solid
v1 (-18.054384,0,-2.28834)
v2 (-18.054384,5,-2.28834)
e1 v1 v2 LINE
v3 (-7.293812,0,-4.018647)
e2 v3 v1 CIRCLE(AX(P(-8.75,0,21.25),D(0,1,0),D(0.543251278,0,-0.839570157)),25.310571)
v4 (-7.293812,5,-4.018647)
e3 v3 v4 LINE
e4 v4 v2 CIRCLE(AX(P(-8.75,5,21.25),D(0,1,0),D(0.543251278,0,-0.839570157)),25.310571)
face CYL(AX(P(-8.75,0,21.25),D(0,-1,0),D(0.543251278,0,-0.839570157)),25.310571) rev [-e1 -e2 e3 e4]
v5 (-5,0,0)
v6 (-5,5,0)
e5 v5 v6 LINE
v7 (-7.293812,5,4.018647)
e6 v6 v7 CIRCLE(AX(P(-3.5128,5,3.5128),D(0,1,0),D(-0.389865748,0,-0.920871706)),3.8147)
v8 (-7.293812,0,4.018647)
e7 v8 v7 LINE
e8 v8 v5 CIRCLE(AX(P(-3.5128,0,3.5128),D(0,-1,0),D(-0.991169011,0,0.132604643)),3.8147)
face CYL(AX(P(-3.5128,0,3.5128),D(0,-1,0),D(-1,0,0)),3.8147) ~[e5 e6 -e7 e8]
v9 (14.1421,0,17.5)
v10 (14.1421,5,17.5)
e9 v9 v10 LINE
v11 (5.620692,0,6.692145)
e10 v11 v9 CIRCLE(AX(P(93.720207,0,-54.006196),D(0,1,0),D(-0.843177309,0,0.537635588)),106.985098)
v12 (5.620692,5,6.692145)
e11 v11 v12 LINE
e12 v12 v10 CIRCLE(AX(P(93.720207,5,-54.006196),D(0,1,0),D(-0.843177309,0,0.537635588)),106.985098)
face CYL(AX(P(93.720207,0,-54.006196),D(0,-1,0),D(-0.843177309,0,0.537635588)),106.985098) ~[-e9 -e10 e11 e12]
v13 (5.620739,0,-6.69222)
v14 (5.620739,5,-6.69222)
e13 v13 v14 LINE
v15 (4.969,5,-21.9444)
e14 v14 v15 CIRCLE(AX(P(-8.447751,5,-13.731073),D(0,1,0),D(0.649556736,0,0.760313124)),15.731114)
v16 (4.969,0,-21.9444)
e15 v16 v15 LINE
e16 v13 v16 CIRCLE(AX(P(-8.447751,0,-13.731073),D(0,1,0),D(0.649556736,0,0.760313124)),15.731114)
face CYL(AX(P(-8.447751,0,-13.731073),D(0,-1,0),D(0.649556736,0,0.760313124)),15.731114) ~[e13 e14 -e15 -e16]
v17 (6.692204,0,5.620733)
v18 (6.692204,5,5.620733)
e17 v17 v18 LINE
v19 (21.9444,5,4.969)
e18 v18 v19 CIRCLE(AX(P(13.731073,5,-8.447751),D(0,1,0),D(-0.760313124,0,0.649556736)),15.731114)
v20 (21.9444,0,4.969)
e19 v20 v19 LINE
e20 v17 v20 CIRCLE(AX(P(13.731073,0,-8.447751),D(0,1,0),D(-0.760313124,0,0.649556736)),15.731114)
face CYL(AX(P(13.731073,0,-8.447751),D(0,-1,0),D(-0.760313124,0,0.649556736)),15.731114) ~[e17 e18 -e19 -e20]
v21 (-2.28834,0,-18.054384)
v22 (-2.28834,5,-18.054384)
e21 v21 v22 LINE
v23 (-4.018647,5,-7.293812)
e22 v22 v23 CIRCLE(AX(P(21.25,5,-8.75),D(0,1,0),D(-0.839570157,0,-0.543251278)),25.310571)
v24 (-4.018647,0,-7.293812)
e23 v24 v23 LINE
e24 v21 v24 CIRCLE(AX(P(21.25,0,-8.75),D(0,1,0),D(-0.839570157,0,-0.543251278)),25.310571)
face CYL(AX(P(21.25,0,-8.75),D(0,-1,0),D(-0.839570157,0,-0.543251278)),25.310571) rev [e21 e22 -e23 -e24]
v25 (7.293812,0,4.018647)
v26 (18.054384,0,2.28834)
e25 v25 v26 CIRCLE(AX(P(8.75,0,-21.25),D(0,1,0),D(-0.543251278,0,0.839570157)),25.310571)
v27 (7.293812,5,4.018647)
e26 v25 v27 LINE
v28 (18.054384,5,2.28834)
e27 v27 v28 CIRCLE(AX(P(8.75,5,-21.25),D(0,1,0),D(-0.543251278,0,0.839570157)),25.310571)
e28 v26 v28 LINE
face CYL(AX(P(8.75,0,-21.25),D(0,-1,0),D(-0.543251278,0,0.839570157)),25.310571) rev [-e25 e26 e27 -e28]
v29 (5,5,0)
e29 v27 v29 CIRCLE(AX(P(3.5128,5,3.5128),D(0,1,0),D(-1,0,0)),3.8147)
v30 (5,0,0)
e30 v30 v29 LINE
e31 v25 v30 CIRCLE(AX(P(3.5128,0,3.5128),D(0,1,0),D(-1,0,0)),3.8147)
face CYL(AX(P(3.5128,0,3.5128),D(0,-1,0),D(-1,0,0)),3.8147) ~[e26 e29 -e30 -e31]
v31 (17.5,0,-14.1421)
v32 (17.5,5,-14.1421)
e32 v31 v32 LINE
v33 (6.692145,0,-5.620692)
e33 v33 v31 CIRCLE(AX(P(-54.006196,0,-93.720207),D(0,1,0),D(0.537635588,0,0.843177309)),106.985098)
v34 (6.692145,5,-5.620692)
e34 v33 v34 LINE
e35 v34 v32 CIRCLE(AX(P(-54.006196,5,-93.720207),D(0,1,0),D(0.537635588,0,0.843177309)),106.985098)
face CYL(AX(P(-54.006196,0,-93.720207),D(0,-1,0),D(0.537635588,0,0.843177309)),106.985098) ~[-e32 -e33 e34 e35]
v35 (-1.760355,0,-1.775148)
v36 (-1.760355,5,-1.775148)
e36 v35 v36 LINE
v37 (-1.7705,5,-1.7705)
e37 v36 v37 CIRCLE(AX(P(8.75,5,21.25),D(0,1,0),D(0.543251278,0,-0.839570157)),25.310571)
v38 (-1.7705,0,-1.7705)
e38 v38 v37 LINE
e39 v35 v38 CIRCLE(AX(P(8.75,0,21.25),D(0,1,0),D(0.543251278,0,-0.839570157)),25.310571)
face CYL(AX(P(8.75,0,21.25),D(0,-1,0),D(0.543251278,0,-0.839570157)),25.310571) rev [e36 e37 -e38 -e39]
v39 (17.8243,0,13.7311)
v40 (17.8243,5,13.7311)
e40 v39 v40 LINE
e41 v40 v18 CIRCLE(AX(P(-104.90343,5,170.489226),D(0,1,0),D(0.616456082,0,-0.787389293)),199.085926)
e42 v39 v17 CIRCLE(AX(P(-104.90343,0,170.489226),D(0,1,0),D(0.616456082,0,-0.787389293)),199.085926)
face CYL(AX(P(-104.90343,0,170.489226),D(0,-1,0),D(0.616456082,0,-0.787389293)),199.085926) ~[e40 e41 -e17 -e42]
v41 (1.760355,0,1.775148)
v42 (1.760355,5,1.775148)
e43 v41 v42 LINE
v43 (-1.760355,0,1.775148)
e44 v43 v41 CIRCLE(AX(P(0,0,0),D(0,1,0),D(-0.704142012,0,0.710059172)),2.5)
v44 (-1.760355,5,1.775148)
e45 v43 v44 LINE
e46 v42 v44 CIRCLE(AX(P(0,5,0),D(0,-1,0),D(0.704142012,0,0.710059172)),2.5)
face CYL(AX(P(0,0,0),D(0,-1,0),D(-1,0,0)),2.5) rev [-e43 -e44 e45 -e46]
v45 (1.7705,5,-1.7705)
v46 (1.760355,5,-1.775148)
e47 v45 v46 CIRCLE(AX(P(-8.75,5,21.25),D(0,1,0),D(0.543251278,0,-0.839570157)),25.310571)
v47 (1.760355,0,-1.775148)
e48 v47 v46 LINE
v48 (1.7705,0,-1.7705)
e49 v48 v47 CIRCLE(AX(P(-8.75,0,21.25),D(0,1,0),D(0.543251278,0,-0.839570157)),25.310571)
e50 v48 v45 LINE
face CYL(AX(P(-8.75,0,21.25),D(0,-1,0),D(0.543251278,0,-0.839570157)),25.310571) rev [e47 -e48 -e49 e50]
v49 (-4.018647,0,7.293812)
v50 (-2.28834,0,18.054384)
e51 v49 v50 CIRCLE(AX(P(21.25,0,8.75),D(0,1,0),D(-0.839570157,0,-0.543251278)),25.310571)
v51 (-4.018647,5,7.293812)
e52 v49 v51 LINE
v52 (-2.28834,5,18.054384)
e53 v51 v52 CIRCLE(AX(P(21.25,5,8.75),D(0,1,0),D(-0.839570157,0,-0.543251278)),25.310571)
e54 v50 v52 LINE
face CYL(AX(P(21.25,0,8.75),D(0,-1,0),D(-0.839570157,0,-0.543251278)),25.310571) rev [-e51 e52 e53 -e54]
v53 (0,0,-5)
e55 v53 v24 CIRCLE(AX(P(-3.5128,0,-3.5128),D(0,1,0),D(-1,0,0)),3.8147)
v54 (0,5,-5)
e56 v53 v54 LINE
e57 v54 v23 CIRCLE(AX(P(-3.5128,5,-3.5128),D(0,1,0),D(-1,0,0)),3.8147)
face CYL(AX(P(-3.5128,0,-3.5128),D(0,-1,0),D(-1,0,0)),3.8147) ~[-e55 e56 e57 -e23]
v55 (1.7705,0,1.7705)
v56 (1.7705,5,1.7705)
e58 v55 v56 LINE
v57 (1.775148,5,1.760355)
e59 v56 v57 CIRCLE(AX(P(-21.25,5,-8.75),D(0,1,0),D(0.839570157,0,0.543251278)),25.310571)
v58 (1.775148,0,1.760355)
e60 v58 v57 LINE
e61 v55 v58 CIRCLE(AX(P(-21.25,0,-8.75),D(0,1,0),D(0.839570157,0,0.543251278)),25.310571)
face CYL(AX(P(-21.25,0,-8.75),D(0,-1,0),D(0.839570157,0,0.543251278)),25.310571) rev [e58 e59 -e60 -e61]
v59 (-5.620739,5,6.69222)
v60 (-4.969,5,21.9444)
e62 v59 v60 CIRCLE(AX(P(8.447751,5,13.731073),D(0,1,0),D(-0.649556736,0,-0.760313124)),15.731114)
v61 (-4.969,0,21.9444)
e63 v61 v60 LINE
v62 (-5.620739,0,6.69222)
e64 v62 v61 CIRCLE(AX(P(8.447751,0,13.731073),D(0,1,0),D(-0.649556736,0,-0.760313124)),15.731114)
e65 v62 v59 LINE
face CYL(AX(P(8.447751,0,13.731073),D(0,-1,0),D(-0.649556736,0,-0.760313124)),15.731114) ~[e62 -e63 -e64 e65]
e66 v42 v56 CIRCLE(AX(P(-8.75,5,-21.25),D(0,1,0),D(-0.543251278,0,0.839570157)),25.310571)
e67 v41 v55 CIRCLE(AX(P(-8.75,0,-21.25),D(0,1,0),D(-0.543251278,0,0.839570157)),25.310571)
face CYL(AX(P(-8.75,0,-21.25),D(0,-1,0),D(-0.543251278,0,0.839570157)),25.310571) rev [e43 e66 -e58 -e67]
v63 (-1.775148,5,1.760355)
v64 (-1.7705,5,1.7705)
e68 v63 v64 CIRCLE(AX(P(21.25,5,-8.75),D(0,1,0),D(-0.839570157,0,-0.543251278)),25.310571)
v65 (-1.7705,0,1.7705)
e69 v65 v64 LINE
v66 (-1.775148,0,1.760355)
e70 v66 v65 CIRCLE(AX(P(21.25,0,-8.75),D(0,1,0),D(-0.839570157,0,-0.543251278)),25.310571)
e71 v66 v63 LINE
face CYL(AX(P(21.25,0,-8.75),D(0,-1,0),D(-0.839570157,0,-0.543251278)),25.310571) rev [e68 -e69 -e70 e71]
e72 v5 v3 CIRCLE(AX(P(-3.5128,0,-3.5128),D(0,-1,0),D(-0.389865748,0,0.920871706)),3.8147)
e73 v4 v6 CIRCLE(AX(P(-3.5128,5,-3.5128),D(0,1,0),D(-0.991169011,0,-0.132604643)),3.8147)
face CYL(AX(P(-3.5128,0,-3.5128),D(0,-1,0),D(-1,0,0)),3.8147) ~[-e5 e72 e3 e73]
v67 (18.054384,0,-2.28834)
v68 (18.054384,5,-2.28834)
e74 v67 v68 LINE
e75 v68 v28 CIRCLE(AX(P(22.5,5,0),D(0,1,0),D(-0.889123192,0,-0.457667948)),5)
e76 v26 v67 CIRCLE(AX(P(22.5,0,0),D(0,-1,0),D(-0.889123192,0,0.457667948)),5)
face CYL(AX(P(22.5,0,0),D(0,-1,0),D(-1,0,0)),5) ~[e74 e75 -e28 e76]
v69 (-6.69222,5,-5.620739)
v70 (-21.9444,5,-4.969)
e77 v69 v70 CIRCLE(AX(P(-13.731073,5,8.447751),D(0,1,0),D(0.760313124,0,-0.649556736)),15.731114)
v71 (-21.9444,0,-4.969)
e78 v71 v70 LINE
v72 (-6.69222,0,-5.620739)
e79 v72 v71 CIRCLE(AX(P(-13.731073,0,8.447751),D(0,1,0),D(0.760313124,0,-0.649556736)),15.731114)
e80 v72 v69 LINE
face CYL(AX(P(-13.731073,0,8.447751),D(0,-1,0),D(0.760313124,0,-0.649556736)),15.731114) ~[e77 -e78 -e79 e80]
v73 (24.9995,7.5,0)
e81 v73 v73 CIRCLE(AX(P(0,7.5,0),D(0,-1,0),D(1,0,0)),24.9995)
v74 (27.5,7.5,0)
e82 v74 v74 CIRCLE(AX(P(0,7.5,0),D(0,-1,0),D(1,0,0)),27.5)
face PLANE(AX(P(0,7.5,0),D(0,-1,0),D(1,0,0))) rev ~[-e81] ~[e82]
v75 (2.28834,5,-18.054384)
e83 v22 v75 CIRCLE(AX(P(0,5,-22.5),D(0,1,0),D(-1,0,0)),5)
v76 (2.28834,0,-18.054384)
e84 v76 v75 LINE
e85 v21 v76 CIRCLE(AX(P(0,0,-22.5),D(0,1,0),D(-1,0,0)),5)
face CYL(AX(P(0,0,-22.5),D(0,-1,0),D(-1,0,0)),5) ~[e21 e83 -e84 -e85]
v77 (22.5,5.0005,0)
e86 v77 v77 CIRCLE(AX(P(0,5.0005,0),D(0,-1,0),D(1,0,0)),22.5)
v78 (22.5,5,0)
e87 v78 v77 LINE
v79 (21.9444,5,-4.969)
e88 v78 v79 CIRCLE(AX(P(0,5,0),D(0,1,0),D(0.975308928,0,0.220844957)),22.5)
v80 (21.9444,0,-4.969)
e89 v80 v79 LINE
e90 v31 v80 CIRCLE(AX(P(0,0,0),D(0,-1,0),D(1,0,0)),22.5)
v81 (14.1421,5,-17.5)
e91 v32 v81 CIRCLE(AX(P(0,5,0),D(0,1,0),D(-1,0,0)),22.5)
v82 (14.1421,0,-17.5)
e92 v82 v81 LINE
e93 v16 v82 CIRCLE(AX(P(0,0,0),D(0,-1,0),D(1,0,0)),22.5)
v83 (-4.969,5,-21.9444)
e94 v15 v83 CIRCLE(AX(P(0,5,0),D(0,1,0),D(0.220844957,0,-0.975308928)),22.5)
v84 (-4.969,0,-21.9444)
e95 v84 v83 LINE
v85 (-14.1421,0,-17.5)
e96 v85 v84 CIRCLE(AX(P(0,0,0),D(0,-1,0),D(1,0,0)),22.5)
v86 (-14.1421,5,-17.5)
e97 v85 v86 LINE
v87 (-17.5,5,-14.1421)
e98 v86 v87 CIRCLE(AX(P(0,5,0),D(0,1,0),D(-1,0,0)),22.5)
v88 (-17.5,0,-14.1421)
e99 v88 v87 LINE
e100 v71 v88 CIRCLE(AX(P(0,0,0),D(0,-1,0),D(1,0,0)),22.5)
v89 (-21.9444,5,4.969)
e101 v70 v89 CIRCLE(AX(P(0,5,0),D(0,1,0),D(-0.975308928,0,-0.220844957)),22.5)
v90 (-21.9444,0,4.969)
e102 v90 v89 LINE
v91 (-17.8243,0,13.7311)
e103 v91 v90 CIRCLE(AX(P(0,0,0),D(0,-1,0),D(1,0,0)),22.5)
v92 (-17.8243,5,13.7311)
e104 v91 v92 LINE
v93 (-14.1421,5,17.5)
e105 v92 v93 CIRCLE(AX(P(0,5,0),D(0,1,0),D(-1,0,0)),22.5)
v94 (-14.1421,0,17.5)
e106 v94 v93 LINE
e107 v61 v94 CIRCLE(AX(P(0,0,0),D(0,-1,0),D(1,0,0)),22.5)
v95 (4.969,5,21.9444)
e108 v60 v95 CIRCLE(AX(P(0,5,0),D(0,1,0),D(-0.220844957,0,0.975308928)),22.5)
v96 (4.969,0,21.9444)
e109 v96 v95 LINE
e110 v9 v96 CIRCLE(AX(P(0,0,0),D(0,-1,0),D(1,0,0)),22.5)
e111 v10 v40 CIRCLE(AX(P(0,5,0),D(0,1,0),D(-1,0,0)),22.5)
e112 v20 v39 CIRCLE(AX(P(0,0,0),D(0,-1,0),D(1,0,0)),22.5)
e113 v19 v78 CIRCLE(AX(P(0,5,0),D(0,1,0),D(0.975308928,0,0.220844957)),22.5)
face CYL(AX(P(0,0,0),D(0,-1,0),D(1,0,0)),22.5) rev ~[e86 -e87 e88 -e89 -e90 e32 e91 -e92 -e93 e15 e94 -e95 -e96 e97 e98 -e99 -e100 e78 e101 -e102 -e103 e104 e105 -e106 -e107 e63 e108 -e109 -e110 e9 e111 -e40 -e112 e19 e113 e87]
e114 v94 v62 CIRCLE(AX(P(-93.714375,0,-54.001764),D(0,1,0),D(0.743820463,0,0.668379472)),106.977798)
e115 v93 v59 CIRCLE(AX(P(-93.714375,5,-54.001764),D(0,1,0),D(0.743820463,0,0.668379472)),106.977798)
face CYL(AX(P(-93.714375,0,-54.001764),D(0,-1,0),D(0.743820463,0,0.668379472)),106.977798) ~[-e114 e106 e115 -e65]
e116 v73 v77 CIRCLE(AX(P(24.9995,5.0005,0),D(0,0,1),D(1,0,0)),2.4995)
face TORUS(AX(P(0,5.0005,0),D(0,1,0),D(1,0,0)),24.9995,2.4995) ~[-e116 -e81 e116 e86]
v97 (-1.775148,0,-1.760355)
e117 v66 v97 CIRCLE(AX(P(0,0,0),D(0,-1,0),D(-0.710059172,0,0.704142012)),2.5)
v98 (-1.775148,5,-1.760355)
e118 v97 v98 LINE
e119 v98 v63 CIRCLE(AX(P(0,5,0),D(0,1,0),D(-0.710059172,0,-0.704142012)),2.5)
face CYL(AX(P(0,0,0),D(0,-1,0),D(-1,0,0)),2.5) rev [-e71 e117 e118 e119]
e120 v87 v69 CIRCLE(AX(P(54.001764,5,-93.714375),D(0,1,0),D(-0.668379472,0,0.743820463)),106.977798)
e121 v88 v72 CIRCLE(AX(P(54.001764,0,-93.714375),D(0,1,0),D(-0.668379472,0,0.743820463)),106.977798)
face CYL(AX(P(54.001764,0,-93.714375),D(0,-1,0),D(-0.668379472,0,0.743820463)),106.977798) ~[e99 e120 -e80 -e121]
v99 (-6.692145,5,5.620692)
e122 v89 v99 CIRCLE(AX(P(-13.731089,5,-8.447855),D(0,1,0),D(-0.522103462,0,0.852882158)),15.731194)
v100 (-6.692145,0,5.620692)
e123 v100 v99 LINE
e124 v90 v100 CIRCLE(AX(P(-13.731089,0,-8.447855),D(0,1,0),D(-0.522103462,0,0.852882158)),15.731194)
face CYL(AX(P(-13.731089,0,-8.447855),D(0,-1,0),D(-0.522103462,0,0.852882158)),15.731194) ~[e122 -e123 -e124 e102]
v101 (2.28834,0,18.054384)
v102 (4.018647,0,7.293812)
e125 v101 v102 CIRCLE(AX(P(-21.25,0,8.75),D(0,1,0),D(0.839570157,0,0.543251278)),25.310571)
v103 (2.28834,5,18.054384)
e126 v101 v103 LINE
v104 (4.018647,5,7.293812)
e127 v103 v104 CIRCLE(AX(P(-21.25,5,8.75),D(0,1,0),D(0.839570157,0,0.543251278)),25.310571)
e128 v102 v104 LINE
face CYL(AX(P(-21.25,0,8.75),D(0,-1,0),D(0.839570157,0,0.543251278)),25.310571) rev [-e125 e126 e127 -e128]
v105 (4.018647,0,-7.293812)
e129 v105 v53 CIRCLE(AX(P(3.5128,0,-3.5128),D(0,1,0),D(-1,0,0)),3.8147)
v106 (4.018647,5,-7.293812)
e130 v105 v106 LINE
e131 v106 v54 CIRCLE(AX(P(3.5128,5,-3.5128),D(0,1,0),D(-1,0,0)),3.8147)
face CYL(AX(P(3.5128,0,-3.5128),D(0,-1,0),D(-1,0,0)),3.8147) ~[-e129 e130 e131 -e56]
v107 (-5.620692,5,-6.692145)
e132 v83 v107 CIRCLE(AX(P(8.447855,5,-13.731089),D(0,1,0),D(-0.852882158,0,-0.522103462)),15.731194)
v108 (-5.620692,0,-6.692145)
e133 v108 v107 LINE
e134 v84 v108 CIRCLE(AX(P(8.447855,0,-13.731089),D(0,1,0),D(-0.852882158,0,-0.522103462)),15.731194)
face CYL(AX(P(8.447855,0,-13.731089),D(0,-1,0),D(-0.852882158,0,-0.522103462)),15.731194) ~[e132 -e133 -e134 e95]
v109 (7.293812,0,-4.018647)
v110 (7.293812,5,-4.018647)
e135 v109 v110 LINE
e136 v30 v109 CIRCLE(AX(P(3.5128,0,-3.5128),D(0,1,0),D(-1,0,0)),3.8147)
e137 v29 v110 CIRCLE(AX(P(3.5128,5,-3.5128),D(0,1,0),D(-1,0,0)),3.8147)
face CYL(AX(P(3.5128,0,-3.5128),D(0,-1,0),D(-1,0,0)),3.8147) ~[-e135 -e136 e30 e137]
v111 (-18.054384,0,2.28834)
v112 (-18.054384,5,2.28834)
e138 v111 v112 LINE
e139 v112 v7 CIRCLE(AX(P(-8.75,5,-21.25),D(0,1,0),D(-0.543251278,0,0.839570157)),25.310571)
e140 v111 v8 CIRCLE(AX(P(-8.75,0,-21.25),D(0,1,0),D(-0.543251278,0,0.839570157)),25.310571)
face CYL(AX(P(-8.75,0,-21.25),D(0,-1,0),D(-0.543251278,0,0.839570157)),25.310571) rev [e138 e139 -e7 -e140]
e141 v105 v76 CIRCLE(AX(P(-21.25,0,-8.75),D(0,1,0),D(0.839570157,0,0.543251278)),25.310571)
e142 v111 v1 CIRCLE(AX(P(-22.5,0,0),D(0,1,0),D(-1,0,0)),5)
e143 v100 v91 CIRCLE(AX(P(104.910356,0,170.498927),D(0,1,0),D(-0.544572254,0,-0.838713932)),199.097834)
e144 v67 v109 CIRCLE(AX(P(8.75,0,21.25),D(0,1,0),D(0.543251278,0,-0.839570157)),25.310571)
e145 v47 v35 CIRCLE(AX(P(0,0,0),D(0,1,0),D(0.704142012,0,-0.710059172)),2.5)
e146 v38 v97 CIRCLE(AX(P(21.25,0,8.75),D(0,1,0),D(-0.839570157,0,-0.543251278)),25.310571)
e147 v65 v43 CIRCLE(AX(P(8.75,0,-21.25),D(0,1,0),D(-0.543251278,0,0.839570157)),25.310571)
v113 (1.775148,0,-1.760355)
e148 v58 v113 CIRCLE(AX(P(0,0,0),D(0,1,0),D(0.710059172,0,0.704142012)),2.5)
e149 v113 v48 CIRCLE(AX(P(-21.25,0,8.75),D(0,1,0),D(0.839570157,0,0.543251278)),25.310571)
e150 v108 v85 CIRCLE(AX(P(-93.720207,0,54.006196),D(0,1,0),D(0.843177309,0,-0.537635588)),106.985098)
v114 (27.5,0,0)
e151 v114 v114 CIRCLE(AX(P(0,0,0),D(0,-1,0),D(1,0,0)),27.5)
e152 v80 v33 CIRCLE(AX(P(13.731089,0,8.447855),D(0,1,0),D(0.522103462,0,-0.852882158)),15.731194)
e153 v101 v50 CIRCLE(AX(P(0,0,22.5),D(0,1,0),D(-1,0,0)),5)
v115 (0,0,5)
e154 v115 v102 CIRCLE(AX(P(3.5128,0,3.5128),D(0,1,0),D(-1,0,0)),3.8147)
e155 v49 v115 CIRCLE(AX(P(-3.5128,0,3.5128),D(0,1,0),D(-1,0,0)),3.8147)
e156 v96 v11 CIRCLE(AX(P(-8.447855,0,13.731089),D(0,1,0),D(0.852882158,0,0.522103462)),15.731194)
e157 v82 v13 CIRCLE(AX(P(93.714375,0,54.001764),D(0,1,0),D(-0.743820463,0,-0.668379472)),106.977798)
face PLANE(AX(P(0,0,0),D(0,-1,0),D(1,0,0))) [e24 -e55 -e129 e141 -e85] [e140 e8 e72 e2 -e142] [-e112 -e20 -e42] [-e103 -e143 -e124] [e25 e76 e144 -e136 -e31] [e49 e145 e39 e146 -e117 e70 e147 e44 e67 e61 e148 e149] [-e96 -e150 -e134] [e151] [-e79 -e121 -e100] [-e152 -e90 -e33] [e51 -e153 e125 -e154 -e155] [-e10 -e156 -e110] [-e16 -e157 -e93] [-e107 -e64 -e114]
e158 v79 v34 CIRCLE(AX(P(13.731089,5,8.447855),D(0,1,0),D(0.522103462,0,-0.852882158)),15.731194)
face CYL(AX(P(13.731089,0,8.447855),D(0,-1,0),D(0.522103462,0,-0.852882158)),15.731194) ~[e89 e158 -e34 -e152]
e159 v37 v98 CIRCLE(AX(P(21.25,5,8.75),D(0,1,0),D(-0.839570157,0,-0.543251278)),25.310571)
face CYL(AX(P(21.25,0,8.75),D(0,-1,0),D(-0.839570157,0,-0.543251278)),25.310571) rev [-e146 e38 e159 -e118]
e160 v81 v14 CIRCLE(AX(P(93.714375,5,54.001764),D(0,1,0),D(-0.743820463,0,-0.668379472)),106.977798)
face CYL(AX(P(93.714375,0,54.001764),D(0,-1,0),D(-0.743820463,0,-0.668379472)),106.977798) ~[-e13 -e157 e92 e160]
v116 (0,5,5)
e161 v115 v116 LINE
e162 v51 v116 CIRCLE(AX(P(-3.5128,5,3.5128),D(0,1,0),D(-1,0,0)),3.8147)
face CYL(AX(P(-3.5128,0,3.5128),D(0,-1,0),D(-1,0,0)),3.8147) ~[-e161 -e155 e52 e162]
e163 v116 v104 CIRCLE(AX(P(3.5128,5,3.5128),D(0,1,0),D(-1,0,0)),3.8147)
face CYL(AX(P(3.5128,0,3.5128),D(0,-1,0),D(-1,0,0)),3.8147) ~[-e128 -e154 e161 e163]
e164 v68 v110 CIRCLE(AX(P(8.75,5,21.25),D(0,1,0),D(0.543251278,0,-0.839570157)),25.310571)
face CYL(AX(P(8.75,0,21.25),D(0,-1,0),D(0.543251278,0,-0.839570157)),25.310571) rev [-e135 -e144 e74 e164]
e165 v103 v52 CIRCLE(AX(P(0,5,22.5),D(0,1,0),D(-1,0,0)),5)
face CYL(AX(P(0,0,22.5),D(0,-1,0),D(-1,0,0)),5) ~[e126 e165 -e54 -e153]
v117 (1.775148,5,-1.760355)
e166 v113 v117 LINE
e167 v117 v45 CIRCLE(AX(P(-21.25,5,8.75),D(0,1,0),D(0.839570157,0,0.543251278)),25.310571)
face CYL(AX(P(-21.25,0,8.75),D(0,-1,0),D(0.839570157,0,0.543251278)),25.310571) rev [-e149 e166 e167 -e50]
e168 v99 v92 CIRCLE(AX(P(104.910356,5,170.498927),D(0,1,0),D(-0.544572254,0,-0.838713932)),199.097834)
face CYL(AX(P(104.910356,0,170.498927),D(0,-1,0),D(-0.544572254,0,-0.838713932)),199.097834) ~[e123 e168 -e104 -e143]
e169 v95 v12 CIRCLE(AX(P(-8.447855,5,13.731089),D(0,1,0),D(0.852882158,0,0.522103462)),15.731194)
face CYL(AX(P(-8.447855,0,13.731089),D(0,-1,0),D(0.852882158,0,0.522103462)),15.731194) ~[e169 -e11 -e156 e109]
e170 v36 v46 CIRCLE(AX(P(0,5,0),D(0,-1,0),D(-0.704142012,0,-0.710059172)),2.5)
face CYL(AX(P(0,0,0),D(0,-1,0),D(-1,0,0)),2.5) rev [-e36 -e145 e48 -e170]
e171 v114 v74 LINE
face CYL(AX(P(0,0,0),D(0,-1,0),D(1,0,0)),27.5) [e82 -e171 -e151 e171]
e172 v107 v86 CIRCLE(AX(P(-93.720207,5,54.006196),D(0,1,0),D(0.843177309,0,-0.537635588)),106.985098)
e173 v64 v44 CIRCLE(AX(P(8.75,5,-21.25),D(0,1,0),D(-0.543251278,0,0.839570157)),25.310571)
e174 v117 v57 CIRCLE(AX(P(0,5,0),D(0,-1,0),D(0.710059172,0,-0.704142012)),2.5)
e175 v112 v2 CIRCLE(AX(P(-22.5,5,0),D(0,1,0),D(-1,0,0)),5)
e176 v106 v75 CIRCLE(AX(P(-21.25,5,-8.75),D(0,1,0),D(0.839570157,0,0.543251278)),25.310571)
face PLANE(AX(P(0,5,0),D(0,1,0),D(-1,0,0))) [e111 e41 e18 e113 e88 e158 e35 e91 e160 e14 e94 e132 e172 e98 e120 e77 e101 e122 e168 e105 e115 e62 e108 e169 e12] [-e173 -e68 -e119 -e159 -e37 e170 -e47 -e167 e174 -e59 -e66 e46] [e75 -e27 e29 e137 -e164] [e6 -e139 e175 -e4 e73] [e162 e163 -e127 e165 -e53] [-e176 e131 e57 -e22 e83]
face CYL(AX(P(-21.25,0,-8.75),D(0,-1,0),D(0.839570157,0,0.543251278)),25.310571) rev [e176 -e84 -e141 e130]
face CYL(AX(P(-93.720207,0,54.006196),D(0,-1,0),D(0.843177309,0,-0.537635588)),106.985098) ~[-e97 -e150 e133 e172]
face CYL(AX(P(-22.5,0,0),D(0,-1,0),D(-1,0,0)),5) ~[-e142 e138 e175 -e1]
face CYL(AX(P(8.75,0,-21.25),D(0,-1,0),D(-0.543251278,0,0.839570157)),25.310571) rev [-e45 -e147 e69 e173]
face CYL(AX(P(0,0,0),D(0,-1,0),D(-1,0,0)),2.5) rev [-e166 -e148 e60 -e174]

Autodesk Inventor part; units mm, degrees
ref_plane "YZ Plane" through (0, 0, 0) normal (1, 0, 0) x (0, 1, 0)
ref_plane "XZ Plane" through (0, 0, 0) normal (0, 1, 0) x (-1, 0, 0)
ref_plane "XY Plane" through (0, 0, 0) normal (0, 0, 1) x (1, 0, 0)
sketch "Sketch1" plane through (0, 0, 0) normal (0, 1, 0) x (-1, 0, 0)
  circle A0 centre (0, 0) radius 2.5
  circle A1 centre (0, 0) radius 5
  circle A2 centre (0, 0) radius 22.5
  circle A3 centre (0, 0) radius 27.5
  arc A4 (0, 5) -> (0, -22.5) centre (21.25, -8.75) ccw
  arc A5 (0, -22.5) -> (0, 5) centre (-21.25, -8.75) ccw
  arc A6 (-5, 0) -> (22.5, 0) centre (8.75, 21.25) ccw
  arc A7 (22.5, 0) -> (-5, 0) centre (8.75, -21.25) ccw
  arc A8 (0, -5) -> (0, 22.5) centre (-21.25, 8.75) ccw
  arc A9 (0, 22.5) -> (0, -5) centre (21.25, 8.75) ccw
  arc A10 (5, 0) -> (-22.5, 0) centre (-8.75, -21.25) ccw
  arc A11 (-22.5, 0) -> (5, 0) centre (-8.75, 21.25) ccw
  circle A12 centre (-22.5, 0) radius 5
  circle A13 centre (0, -22.5) radius 5
  circle A14 centre (22.5, 0) radius 5
  circle A15 centre (0, 22.5) radius 5
  arc A16 (-4.969, 21.9444) -> (-1.7705, 1.7705) centre (8.4478, 13.7311) ccw
  arc A17 (1.7705, 1.7705) -> (4.969, 21.9444) centre (-8.4478, 13.7311) ccw
  arc A18 (4.969, -21.9444) -> (1.7705, -1.7705) centre (-8.4478, -13.7311) ccw
  arc A19 (-1.7705, -1.7705) -> (-4.969, -21.9444) centre (8.4478, -13.7311) ccw
  arc A20 (21.9444, 4.969) -> (1.7705, 1.7705) centre (13.7311, -8.4478) ccw
  arc A21 (1.7705, -1.7705) -> (21.9444, -4.969) centre (13.7311, 8.4478) ccw
  arc A22 (-1.7705, 1.7705) -> (-21.9444, 4.969) centre (-13.7311, -8.4478) ccw
  arc A23 (-21.9444, -4.969) -> (-1.7705, -1.7705) centre (-13.7311, 8.4478) ccw
  circle A24 centre (-3.5128, 3.5128) radius 3.8147
  circle A25 centre (-3.5128, -3.5128) radius 3.8147
  circle A26 centre (3.5128, -3.5128) radius 3.8147
  circle A27 centre (3.5128, 3.5128) radius 3.8147
  arc A28 (-3.5128, -3.5128) -> (-17.5, -14.1421) centre (54.0041, -93.7172) ccw
  arc A29 (-14.1421, -17.5) -> (-3.5128, -3.5128) centre (-93.7172, 54.0041) ccw
  arc A30 (17.5, -14.1421) -> (3.5128, -3.5128) centre (-54.0041, -93.7172) ccw
  arc A31 (3.5128, -3.5128) -> (14.1421, -17.5) centre (93.7172, 54.0041) ccw
  arc A32 (3.5128, 3.5128) -> (17.8243, 13.7311) centre (-104.907, 170.494) ccw
  arc A33 (14.1421, 17.5) -> (3.5128, 3.5128) centre (93.7172, -54.0041) ccw
  arc A34 (-3.5128, 3.5128) -> (-14.1421, 17.5) centre (-93.7172, -54.0041) ccw
  arc A35 (-17.8243, 13.7311) -> (-3.5128, 3.5128) centre (104.907, 170.494) ccw
  point P0 (3.5128, -3.5128)
  point P1 (3.5503, -3.5207)
  point P2 (3.5207, -3.5503)
  point P3 (7.2938, 4.0186)
  point P4 (18.0544, 2.2883)
  point P5 (18.0544, -2.2883)
  point P6 (7.2938, -4.0186)
  point P7 (-3.5128, -3.5128)
  point P8 (-3.5207, -3.5503)
  point P9 (-3.5503, -3.5207)
  point P10 (-18.0544, 2.2883)
  point P11 (-7.2938, 4.0186)
  point P12 (-7.2938, -4.0186)
  point P13 (-18.0544, -2.2883)
  point P14 (-1.7751, -1.7604)
  point P15 (-1.7751, 1.7604)
  point P16 (-1.7604, 1.7751)
  point P17 (1.7604, 1.7751)
  point P18 (1.7751, 1.7604)
  point P19 (1.7751, -1.7604)
  point P20 (1.7604, -1.7751)
  point P21 (-1.7604, -1.7751)
  point P22 (2.2883, 18.0544)
  point P23 (4.0186, 7.2938)
  point P24 (0, 5)
  point P25 (-4.0186, 7.2938)
  point P26 (-2.2883, 18.0544)
  point P27 (4.0186, -7.2938)
  point P28 (2.2883, -18.0544)
  point P29 (-2.2883, -18.0544)
  point P30 (-4.0186, -7.2938)
  point P31 (-6.6922, -5.6207)
  point P32 (-5.6207, -6.6922)
  point P33 (5.6207, -6.6922)
  point P34 (6.6922, -5.6207)
  point P35 (6.6922, 5.6207)
  point P36 (5.6207, 6.6922)
  point P37 (-5.6207, 6.6922)
  point P38 (-6.6922, 5.6207)
  dimension "d2" = 45
  dimension "d0" = 5
  dimension "d1" = 10
  dimension "d3" = 55
extrude "Extrusion1" add sketch "Sketch1" along normal blind 5 contours A5 A27 A0 | A8 A26 A27 A5 | A0 A26 A8 | A0 A5 A10 A8 A26 | A27 A5 A11 A8 A0 | A27 A11 A5 | A8 A10 A26 | A11 A1 A6 A5 | A5 A18 A11 | A10 A8 A7 A1 | A26 A6 A1 | A1 A7 A27 | A10 A17 A8 | A0 A24 A7 A5 A10 | A20 A17 | A5 A7 A20 | A11 A8 A6 A25 A0 | A21 A6 A8 | A18 A21 | A31 A1 A5 | A5 A1 A8 A6 | A21 A1 A18 | A30 A1 A21 | A6 A1 A30 | A18 A1 A31 | A7 A32 A1 | A1 A32 A27 A7 | A6 A26 A30 A1 | A7 A5 A1 A8 | A33 A1 A17 | A17 A1 A20 | A20 A1 A32 | A8 A1 A33 | A0 A7 A24 | A7 A24 A5 | A25 A6 A0 | A8 A25 A6 | A5 A26 A1 | A1 A31 A26 A5 | A18 A31 A1 | A1 A21 A26 A18 | A1 A30 A21 | A1 A20 A32 | A27 A20 A14 A7 | A6 A14 A21 A26 | A8 A27 A33 A1 | A1 A27 A8 | A17 A27 A20 A1 | A1 A33 A17 | A10 A27 A24 A7 | A0 A27 A10 | A4 A10 A9 A1 | A27 A10 A4 | A1 A9 A24 | A11 A26 A0 | A6 A25 A26 A11 | A25 A4 A1 | A1 A4 A11 A9 | A9 A11 A26 | A26 A18 A13 A5 | A26 A30 A2 A31 | A27 A33 A2 A32 | A14 A2 A7 | A7 A6 A14 | A6 A2 A14 | A0 A26 A11 A9 A6 | A7 A4 A10 A27 A0 | A8 A15 A17 A27 | A9 A34 A1 | A1 A34 A24 A9 | A4 A22 A10 | A24 A16 A15 A9 | A4 A25 A29 A1 | A1 A29 A4 | A11 A23 A9 | A4 A13 A19 A25 | A13 A2 A5 | A5 A4 A13 | A9 A25 A0 | A0 A24 A4 | A4 A24 A25 A9 | A9 A6 A4 A24 A0 | A0 A25 A9 A7 A4 | A19 A4 A6 | A23 A19 | A7 A9 A16 | A16 A22 | A15 A9 A8 | A8 A2 A15 | A34 A16 A1 | A1 A16 A34 | A9 A7 A1 A10 | A22 A1 A16 | A35 A1 A22 | A10 A1 A35 | A15 A2 A9 | A16 A1 A22 A24 | A24 A35 A2 A34 | A29 A19 A1 | A1 A19 A29 | A11 A1 A6 A4 | A28 A1 A11 | A19 A1 A23 | A23 A1 A28 | A4 A2 A13 | A25 A23 A1 A19 | A29 A2 A28 A25 | A4 A6 A24 | A25 A7 A9 | A10 A24 A35 A1 | A1 A24 A10 | A1 A35 A22 | A24 A10 A12 A22 | A11 A25 A1 | A1 A28 A25 A11 | A23 A28 A1 | A23 A12 A11 A25 | A12 A10 A2 | A2 A11 A12 | A12 A11 A10 picked at (3.6592, 0.0793) picked at (-0.0899, 3.8712) picked at (-0.0899, -3.8712) picked at (-3.6592, -0.0793)
sketch "Sketch2" plane through (0, 0, 0) normal (0, -1, 0) x (1, 0, 0)
  circle A0 centre (0, 0) radius 22.5
  circle A1 centre (0, 0) radius 27.5
  dimension "d6" = 55
extrude "Extrusion2" add sketch "Sketch2" against normal blind 7.5
fillet "Fillet1" radius 2.5 1 edges at (-22.5, 7.5, 0)
properties part number "Hjul_Rev1"
